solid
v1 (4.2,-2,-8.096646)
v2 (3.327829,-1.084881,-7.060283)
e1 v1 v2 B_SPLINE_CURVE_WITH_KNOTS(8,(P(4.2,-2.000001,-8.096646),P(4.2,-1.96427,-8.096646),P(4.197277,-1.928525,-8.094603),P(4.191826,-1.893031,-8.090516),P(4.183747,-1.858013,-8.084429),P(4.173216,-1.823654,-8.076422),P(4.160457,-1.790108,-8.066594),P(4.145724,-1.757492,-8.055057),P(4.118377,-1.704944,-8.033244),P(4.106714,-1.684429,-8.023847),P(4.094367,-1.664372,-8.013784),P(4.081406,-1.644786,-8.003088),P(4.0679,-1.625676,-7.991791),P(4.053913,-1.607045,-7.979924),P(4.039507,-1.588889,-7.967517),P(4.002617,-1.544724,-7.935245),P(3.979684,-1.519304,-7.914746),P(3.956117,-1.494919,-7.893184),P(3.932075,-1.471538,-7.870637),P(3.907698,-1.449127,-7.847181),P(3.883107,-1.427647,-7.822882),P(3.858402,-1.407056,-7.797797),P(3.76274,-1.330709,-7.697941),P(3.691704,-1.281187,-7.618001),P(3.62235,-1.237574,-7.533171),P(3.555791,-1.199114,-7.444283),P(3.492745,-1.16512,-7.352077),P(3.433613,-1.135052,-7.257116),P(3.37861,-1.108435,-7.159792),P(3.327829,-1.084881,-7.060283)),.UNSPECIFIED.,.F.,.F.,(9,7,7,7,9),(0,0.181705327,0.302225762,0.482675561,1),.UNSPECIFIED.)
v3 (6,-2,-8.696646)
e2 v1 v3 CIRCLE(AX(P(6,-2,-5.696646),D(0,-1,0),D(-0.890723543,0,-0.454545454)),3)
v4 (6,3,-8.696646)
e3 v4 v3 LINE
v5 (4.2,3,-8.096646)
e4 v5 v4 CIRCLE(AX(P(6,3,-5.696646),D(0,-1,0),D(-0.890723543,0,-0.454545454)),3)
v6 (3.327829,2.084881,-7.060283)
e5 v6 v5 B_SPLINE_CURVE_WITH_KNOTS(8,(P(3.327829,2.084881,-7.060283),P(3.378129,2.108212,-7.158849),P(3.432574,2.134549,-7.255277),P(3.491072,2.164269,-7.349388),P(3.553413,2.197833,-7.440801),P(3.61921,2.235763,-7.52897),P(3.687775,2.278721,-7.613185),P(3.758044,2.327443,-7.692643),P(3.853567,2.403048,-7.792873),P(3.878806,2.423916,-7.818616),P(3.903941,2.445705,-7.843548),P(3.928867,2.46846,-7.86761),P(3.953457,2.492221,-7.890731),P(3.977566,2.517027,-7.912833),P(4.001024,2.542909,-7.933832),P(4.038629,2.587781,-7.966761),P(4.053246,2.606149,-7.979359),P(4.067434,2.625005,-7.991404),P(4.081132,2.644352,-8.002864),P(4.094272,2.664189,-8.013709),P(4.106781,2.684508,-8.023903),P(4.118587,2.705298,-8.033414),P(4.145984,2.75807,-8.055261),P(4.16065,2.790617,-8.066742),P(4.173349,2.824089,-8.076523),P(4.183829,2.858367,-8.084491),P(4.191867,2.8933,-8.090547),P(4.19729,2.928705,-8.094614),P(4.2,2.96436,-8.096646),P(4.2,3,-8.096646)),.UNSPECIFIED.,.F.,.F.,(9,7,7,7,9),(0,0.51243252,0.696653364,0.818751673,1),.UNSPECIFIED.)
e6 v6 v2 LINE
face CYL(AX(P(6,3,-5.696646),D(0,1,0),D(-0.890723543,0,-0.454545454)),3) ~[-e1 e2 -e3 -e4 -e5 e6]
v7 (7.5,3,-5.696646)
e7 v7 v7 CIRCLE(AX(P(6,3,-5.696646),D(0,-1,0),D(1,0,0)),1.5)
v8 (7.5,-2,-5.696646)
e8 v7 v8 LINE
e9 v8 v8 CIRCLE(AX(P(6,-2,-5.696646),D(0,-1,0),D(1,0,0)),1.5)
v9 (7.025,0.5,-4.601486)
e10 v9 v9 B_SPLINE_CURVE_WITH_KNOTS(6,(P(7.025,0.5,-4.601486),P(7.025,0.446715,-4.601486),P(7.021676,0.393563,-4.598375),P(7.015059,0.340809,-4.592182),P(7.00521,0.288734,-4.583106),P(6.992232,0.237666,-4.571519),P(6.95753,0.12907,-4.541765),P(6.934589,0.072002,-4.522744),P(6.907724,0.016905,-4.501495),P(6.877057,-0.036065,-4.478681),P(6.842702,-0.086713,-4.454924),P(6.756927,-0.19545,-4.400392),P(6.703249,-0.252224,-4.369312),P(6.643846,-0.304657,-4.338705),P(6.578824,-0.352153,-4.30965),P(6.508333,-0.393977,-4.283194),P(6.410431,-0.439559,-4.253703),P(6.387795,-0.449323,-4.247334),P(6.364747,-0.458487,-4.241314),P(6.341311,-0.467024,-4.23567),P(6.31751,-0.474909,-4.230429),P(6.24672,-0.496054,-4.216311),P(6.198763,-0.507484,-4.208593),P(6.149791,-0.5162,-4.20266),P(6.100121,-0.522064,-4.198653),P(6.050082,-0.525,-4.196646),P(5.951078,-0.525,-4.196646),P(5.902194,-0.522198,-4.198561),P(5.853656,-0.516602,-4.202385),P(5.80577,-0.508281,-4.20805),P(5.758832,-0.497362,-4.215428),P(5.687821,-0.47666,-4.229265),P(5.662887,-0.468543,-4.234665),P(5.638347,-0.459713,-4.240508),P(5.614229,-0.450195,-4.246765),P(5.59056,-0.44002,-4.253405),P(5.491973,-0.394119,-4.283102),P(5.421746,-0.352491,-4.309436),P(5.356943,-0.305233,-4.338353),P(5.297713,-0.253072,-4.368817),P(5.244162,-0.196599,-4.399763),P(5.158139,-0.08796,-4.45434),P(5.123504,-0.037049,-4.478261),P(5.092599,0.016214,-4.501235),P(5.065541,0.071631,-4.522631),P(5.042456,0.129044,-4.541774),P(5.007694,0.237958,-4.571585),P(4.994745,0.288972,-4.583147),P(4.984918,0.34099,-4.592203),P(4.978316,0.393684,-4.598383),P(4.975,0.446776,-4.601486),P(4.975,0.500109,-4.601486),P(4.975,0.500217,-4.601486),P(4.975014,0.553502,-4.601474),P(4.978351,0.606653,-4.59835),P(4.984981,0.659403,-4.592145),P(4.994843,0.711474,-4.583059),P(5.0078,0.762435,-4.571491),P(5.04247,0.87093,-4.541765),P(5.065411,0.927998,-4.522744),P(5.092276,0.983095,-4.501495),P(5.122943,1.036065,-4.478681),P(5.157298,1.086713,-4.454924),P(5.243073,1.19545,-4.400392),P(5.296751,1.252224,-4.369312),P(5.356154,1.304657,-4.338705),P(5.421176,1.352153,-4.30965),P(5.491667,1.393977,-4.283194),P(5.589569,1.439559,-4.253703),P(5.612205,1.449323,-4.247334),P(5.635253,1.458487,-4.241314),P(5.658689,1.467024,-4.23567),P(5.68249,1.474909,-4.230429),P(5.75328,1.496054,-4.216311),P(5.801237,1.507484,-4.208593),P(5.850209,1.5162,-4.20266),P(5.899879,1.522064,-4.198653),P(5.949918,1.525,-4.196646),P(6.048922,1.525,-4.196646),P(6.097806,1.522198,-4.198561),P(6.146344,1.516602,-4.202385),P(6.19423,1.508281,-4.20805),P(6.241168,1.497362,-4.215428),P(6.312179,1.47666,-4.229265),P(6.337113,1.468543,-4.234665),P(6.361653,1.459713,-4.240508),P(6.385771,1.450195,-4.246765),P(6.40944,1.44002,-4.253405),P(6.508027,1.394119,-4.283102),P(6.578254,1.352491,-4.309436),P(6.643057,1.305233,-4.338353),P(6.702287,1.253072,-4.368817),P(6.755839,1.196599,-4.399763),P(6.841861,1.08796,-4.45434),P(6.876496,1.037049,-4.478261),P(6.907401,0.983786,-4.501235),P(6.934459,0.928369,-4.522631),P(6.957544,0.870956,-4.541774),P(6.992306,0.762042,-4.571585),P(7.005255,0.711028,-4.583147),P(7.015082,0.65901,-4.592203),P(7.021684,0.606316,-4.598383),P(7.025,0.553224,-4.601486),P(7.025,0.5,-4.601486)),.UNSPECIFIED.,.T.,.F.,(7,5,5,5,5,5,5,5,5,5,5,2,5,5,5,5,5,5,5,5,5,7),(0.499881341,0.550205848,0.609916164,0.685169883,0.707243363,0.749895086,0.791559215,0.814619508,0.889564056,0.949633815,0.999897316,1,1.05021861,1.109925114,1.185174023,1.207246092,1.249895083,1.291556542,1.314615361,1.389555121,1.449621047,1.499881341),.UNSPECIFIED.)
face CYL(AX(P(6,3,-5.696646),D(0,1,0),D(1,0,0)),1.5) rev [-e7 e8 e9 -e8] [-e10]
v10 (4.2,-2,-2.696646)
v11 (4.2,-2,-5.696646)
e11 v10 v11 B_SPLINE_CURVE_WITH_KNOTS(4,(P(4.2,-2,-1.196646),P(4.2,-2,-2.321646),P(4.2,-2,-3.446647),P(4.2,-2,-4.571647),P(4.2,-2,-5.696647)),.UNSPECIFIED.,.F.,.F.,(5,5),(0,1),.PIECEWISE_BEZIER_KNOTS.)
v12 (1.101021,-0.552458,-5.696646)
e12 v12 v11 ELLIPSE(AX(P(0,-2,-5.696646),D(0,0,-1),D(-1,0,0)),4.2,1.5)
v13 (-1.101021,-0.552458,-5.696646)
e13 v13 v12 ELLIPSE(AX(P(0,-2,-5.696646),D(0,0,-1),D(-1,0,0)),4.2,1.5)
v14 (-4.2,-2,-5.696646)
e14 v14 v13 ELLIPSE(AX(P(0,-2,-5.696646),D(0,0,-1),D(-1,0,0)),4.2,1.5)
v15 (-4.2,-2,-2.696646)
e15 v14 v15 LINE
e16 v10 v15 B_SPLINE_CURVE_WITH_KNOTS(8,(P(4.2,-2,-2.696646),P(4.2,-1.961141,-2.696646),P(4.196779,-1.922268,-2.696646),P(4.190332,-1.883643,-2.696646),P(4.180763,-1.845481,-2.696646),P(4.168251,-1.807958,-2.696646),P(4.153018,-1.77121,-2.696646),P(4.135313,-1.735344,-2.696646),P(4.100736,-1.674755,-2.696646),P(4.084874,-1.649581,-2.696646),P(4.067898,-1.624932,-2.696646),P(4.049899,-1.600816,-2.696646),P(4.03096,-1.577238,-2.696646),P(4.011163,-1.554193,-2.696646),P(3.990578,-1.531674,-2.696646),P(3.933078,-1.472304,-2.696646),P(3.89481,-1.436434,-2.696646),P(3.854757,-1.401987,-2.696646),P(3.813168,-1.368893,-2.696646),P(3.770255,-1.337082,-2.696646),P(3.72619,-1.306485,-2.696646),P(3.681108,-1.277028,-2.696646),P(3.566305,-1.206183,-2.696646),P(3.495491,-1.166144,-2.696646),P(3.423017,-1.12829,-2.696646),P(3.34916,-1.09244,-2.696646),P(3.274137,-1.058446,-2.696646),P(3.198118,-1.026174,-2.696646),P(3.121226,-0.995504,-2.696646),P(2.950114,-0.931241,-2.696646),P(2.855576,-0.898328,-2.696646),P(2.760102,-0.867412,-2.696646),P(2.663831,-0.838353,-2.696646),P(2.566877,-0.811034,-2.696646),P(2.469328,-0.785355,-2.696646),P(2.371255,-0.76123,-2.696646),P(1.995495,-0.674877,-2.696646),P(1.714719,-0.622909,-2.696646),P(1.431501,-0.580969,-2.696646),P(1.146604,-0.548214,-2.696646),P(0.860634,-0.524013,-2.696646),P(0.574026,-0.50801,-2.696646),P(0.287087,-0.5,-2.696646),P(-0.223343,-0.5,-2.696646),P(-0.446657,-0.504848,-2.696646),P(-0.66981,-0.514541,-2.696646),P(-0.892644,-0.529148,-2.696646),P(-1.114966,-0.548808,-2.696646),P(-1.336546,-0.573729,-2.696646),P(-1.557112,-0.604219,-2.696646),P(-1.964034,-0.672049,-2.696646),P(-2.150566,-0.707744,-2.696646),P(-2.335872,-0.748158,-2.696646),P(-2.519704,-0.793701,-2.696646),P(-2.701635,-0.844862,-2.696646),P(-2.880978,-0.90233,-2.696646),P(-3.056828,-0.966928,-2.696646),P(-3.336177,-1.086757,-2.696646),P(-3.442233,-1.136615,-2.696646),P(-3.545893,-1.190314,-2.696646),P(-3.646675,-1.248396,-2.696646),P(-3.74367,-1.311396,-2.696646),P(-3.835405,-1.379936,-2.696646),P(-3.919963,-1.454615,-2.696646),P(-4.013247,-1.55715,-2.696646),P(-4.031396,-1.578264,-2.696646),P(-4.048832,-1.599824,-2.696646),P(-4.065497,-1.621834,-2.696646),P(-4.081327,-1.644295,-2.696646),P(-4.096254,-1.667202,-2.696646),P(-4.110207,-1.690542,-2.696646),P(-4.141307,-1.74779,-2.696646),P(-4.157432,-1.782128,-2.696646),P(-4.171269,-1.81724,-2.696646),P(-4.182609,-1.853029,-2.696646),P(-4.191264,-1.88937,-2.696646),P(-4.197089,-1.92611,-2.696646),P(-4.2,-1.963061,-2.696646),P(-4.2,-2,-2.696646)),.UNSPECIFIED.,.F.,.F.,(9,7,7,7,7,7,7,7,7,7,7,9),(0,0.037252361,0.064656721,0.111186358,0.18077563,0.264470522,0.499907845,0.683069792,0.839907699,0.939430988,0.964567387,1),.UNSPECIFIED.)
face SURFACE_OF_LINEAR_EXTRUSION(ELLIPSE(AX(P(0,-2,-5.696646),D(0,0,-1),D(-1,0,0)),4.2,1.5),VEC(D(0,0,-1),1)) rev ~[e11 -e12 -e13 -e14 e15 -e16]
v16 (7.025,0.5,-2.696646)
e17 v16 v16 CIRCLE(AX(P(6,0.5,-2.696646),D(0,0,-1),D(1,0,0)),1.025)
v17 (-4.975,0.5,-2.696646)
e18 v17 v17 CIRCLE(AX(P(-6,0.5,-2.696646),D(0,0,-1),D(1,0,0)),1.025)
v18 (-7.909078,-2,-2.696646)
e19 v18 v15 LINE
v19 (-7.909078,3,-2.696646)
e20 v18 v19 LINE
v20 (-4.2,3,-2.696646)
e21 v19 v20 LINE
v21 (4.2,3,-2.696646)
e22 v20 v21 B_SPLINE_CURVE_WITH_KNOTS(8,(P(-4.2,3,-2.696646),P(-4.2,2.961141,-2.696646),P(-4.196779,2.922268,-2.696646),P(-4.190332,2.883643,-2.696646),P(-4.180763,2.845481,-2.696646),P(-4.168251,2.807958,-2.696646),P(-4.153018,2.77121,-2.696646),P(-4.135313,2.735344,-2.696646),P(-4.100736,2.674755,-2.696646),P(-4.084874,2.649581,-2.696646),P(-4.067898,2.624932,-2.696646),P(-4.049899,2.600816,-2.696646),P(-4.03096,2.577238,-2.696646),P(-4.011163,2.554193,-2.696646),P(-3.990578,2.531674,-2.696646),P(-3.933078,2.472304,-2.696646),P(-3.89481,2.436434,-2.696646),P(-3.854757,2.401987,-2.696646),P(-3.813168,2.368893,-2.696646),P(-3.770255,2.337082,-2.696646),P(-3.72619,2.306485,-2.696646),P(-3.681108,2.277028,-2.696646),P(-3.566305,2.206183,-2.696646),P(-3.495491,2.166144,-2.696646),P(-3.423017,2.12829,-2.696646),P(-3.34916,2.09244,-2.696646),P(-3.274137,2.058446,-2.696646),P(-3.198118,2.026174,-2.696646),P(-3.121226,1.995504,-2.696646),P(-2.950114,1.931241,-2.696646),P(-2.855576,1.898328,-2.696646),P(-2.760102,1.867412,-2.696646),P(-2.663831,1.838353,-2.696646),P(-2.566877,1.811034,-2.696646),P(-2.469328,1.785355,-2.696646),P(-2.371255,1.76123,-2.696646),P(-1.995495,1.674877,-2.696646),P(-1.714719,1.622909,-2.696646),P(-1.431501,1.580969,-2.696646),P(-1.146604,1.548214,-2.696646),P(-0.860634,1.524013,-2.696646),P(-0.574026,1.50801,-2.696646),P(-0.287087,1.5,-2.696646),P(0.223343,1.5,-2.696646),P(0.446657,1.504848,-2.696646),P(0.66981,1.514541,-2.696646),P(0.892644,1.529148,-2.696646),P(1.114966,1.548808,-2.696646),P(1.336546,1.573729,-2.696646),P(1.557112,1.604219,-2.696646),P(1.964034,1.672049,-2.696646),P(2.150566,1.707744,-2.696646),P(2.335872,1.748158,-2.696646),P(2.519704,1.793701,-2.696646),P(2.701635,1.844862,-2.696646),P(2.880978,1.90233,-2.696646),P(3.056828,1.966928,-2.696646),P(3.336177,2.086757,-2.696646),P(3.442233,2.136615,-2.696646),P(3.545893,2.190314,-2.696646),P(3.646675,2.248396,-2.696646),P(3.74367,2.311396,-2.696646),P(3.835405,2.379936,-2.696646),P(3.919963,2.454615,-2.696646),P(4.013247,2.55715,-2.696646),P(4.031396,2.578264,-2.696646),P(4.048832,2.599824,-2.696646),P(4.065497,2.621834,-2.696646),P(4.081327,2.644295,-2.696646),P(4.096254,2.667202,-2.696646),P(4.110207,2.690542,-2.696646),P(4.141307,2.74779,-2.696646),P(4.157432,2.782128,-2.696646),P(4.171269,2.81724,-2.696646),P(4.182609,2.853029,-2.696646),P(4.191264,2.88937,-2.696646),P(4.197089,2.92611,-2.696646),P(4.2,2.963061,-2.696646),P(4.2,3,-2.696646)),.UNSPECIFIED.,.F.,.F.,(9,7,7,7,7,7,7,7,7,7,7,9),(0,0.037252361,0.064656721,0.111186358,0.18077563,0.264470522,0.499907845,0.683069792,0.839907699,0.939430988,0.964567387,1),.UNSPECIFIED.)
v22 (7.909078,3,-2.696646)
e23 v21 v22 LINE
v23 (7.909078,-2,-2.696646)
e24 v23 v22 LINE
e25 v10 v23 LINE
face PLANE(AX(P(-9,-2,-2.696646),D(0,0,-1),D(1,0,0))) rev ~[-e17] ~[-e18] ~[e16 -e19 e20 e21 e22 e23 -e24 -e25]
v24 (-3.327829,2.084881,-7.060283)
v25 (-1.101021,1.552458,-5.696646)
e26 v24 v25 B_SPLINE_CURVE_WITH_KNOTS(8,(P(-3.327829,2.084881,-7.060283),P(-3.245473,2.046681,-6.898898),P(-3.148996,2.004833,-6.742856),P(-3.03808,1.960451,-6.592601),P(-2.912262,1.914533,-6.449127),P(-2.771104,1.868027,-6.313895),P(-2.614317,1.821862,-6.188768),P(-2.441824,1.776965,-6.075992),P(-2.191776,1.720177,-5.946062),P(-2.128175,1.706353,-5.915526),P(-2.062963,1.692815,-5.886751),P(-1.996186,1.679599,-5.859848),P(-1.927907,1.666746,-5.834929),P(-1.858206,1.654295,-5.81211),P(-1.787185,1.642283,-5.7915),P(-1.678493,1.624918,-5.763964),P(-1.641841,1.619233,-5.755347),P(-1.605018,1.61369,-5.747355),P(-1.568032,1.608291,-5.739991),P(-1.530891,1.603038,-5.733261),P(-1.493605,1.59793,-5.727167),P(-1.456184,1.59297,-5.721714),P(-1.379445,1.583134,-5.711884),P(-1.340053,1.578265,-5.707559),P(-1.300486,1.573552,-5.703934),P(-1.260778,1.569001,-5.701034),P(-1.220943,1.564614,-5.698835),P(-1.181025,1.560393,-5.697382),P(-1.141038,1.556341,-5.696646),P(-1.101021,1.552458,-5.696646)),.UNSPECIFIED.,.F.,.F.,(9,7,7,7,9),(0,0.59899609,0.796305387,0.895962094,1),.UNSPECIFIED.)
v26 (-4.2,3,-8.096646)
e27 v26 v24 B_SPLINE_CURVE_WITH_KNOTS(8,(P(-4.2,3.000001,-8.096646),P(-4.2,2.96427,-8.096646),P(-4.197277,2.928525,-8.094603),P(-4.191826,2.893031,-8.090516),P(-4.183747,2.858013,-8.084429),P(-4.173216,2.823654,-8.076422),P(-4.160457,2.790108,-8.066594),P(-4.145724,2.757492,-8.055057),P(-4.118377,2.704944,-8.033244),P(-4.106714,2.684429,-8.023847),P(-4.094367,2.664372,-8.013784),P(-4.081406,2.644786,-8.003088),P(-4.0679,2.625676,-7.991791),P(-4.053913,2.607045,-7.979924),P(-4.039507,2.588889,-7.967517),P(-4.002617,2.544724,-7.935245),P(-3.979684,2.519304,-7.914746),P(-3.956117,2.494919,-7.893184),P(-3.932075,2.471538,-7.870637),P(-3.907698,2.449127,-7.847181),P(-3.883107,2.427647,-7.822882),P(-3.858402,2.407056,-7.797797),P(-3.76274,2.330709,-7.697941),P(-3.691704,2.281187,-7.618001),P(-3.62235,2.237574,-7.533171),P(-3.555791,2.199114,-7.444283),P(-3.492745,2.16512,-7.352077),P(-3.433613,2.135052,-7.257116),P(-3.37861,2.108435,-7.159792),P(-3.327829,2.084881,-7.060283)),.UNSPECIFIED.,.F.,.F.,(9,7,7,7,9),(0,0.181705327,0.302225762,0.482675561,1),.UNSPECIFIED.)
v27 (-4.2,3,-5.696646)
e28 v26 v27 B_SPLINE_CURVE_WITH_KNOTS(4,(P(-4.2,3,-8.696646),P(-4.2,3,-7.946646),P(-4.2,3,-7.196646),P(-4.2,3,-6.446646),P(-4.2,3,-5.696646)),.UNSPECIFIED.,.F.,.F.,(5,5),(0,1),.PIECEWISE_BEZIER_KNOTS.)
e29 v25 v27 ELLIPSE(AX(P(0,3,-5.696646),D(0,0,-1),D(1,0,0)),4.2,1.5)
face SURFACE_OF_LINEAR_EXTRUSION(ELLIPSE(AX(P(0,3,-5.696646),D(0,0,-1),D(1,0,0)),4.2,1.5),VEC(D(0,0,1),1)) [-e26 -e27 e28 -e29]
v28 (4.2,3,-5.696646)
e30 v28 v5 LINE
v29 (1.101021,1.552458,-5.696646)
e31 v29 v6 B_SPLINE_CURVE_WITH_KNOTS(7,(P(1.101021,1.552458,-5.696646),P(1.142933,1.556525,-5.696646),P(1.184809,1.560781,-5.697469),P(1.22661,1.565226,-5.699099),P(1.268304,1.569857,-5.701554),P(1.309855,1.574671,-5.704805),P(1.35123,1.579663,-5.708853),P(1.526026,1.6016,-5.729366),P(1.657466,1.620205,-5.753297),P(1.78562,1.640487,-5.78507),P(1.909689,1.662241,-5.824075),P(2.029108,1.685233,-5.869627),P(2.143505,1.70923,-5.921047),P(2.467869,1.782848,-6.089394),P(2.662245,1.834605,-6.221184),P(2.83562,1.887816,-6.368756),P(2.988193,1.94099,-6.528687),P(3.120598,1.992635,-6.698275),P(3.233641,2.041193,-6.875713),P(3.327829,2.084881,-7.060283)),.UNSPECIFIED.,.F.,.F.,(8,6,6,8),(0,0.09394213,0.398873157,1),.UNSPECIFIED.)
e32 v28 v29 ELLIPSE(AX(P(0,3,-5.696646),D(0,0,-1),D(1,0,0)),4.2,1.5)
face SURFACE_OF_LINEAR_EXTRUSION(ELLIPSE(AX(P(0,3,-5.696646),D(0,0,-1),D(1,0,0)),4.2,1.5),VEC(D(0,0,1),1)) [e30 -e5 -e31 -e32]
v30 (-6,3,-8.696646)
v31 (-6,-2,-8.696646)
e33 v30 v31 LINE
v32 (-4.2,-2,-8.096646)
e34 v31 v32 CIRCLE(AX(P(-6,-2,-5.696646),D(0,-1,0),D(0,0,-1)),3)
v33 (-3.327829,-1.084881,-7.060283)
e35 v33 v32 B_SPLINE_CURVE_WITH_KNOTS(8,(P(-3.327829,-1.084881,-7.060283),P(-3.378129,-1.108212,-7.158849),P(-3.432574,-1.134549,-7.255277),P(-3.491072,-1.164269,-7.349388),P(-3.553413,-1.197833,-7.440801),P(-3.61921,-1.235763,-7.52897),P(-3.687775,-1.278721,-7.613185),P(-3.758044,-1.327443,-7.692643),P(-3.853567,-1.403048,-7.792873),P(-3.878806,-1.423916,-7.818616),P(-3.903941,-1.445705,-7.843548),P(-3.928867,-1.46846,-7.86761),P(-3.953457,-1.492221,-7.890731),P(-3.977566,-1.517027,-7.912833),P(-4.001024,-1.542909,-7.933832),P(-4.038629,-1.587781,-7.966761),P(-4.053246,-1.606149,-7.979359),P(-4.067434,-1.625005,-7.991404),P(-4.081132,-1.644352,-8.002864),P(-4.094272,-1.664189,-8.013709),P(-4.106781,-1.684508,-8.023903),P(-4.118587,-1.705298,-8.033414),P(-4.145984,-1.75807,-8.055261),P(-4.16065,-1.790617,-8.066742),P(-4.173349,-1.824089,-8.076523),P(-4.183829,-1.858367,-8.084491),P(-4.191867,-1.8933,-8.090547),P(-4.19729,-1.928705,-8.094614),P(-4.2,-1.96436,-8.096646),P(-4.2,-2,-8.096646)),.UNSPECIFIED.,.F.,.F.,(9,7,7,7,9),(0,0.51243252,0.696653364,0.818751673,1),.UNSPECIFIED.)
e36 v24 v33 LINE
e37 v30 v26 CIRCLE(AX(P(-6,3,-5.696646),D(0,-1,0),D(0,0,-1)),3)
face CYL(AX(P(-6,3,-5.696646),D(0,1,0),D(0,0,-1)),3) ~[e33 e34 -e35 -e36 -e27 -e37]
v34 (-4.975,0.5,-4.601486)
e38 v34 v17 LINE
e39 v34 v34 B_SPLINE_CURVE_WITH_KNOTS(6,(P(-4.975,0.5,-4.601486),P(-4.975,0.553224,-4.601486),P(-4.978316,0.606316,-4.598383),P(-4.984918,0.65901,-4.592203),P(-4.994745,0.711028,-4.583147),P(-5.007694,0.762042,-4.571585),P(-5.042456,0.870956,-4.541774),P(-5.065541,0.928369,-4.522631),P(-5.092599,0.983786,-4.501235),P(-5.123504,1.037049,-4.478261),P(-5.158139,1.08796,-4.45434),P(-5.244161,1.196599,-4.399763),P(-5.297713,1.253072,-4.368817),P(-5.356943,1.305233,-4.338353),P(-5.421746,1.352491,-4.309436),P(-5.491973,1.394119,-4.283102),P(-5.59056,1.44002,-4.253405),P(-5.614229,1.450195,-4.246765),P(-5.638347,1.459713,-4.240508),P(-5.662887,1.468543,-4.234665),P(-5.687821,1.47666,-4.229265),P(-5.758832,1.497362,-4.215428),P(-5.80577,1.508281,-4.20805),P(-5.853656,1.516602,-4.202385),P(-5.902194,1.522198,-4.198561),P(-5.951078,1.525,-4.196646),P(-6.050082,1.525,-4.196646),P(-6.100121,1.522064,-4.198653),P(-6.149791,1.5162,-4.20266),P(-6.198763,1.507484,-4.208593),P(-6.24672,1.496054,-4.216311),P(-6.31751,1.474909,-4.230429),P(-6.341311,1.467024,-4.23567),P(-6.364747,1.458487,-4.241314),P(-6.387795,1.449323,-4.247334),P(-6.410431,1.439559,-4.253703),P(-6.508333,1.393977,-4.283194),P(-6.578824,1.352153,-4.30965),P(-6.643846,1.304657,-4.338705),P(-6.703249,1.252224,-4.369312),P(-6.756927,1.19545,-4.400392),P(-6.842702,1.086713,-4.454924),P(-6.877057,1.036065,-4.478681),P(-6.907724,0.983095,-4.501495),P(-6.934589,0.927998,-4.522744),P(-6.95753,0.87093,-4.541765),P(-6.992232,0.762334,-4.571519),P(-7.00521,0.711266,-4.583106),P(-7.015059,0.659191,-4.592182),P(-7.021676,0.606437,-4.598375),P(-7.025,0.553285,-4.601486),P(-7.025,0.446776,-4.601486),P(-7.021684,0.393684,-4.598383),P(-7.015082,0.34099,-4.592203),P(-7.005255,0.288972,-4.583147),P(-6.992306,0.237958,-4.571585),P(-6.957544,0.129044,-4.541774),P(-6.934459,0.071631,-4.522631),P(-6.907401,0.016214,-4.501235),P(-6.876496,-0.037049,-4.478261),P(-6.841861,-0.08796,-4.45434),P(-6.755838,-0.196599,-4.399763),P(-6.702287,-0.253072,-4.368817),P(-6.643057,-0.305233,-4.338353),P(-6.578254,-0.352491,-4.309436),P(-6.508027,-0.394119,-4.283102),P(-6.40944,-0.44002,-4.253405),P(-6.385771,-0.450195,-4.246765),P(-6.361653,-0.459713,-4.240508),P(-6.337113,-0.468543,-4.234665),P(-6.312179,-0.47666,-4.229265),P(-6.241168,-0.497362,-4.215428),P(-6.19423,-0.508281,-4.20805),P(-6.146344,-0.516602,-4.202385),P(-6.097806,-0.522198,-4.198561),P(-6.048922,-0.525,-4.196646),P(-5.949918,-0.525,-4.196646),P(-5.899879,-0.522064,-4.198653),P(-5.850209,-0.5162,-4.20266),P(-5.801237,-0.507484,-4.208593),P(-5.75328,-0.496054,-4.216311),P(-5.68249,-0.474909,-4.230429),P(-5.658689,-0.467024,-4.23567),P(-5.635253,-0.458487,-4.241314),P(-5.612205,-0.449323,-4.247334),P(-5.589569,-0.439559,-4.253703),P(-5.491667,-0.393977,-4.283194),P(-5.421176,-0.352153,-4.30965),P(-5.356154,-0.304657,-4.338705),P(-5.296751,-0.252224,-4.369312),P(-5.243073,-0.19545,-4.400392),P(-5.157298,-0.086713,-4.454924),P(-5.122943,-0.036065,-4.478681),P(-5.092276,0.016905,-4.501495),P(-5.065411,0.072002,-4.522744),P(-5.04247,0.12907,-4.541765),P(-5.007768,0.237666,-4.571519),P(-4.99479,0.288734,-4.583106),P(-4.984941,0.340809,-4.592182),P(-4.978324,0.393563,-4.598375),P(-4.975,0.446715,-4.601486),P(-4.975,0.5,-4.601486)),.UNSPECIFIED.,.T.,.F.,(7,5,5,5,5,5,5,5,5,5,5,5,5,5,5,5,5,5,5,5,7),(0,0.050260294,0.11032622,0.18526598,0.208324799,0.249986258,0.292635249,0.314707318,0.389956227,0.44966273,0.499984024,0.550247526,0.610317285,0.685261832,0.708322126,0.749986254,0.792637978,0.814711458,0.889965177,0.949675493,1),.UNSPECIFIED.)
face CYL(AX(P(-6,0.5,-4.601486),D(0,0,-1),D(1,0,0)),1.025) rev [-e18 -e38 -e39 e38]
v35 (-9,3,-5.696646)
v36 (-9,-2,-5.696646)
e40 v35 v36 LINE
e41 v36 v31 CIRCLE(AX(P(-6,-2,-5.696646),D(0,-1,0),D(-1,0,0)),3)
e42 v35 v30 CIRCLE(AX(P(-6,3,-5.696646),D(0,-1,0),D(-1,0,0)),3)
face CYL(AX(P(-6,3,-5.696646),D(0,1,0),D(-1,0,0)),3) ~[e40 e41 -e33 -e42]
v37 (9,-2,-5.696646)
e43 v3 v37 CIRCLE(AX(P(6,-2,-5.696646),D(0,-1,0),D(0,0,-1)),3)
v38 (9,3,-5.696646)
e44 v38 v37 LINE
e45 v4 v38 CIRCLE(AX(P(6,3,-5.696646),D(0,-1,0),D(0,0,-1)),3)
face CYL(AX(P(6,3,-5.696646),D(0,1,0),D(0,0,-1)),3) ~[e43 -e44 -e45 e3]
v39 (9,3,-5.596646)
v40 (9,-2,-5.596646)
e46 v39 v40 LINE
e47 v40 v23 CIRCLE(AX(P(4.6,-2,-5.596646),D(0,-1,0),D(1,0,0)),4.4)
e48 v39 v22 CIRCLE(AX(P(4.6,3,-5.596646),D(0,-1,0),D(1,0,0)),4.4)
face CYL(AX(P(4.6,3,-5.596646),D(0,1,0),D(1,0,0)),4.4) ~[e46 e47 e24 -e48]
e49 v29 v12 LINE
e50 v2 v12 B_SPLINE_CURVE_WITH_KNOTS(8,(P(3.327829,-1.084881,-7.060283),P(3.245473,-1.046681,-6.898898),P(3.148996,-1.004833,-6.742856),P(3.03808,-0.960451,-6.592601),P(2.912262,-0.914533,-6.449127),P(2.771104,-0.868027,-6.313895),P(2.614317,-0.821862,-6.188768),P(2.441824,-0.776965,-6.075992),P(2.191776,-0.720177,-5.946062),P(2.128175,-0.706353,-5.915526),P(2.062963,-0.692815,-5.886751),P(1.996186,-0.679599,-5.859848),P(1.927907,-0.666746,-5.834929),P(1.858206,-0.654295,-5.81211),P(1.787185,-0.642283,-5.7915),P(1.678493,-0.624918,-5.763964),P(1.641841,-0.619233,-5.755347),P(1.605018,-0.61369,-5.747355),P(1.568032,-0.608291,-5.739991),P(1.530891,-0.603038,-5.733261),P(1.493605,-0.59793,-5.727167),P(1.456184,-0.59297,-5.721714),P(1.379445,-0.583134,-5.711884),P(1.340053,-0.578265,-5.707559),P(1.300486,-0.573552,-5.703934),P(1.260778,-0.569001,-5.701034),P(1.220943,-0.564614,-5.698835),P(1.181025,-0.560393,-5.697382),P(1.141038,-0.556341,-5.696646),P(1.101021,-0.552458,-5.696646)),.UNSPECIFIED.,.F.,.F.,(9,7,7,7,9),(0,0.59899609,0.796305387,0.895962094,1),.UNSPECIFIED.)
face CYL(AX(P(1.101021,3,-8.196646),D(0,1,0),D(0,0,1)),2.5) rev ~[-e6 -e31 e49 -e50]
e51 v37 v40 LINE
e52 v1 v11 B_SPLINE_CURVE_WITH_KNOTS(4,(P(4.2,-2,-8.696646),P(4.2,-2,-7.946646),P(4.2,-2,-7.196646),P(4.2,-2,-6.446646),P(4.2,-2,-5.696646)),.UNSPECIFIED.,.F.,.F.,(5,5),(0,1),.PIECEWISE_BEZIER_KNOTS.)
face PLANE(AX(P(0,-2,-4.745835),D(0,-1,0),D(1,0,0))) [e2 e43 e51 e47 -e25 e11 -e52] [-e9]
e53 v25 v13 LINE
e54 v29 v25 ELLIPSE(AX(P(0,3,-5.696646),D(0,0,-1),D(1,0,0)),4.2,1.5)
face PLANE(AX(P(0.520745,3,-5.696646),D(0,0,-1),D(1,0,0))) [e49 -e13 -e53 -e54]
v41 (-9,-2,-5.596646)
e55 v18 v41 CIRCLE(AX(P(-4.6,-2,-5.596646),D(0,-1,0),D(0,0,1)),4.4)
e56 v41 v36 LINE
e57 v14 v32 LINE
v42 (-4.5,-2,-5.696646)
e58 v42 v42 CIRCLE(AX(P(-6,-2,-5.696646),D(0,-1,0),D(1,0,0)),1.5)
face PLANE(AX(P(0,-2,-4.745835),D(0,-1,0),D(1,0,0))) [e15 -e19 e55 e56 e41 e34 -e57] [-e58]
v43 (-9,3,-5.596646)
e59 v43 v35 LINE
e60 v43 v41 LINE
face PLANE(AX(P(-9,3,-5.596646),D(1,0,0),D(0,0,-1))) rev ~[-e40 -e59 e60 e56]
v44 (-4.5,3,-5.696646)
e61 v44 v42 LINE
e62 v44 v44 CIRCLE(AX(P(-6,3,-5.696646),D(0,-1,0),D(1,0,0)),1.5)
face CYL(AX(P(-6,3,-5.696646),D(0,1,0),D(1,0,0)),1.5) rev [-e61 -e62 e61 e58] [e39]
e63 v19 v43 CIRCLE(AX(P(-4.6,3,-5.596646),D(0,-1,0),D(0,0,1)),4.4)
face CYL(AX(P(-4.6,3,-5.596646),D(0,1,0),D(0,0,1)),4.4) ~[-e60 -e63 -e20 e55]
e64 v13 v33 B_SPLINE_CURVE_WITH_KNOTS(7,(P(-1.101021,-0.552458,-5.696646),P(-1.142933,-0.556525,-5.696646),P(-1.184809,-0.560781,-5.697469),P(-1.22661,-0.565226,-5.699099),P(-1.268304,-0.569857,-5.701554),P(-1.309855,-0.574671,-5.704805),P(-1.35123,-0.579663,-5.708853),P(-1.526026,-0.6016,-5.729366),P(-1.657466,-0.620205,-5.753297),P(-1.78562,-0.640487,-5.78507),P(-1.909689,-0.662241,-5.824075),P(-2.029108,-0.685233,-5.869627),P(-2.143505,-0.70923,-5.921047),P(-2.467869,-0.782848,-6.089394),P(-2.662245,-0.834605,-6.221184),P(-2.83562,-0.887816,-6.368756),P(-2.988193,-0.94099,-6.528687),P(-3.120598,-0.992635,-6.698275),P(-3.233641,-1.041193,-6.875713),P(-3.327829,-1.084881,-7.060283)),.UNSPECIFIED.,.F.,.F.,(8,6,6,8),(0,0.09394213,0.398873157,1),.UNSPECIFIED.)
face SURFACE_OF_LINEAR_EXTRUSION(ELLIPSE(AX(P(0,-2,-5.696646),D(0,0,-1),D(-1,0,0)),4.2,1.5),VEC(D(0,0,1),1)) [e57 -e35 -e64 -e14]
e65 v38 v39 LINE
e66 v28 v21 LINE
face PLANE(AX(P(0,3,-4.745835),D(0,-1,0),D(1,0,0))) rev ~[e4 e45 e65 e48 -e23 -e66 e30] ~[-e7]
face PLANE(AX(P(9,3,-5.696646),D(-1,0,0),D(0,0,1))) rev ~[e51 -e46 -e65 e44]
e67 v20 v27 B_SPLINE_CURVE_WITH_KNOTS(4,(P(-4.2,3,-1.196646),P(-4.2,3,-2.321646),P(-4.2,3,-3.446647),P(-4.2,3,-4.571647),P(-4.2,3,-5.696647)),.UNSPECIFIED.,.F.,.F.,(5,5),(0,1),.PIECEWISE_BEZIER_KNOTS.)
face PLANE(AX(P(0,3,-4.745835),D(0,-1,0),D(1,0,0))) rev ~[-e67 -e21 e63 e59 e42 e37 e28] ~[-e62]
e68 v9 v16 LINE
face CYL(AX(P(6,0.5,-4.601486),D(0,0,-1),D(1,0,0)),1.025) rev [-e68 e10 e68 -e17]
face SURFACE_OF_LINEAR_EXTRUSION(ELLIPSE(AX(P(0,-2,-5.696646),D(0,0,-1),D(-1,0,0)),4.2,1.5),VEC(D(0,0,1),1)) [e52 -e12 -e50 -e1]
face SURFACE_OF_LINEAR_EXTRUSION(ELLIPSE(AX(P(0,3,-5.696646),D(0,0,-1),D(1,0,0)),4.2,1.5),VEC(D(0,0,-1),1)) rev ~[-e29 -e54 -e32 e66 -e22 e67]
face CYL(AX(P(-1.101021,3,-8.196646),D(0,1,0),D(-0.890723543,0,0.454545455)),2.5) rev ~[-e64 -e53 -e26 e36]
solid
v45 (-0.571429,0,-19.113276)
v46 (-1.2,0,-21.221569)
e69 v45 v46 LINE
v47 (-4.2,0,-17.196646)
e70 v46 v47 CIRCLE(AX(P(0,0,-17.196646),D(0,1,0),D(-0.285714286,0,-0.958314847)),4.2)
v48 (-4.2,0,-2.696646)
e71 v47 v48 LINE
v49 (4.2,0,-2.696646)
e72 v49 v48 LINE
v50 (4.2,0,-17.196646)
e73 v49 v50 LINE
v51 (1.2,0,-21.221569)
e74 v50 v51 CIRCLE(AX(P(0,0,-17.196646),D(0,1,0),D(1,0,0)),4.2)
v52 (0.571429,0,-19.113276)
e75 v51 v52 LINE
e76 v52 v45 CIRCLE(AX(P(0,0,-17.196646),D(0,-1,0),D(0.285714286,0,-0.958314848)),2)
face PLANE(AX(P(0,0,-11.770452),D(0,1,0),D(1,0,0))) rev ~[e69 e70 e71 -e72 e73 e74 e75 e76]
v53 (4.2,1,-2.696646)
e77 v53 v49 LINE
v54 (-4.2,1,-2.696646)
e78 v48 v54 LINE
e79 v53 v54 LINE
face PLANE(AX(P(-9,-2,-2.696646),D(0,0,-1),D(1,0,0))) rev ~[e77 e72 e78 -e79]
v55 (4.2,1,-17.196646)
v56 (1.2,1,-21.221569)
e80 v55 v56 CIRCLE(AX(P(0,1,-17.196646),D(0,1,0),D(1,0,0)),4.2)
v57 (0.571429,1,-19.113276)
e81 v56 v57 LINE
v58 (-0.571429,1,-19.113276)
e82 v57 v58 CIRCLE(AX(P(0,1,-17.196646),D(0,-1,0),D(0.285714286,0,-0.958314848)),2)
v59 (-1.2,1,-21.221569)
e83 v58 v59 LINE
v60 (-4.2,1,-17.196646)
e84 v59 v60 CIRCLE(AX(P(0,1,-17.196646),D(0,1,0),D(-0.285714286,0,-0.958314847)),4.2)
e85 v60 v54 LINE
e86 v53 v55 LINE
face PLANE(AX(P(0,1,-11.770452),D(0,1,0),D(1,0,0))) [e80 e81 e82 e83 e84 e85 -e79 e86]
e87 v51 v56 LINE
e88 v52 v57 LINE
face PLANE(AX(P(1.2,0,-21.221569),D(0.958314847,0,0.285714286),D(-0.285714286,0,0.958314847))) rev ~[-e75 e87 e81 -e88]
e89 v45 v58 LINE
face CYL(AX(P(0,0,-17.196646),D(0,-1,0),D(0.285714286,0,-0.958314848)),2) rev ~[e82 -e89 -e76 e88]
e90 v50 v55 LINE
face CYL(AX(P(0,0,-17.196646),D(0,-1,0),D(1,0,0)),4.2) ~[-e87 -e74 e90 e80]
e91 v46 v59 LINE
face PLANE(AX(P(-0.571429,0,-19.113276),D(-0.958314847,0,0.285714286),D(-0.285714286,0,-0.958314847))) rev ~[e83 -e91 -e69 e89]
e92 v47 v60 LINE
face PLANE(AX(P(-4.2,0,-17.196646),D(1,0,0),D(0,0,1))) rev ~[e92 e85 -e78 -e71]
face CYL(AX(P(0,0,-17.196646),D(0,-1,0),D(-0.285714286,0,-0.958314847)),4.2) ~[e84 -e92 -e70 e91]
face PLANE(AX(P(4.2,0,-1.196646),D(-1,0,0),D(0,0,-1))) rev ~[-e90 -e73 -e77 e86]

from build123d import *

# Parameters (mm, degrees)
BOSS_EXTRUDE1_DEPTH     = 1
BOSS_EXTRUDE2_START     = -3
SKETCH3_R               = 1.5
BOSS_EXTRUDE2_DEPTH     = 5
CUT_EXTRUDE1_START      = -3.40484
SKETCH4_R               = 1.025
CUT_EXTRUDE1_DEPTH      = 3.388831
SKETCH5_RX              = 4.2
SKETCH5_RY              = 1.5
CUT_EXTRUDE2_DEPTH      = 16.524922359
CUT_EXTRUDE2_DEPTH_BACK = 5.5000001
SKETCH6_W               = 18
SKETCH6_H               = 1.5
CUT_EXTRUDE3_DEPTH      = 5


with BuildPart() as part:
    # Sketch2 → Boss-Extrude1 (new body)
    with BuildSketch(Plane(origin=(0, 0, 0), x_dir=(1, 0, 0), z_dir=(0, 1, 0))):
        with BuildLine():
            Line((-0.571428571, 19.113275972), (-1.2, 21.221568636))
            ThreePointArc((-1.2, 21.221568636), (-3.367491648, 19.706626356), (-4.2, 17.196646277))
            Line((-4.2, 17.196646277), (-4.2, 1.196646277))
            Line((-4.2, 1.196646277), (4.2, 1.196646277))
            Line((4.2, 1.196646277), (4.2, 17.196646277))
            ThreePointArc((4.2, 17.196646277), (3.367491648, 19.706626356), (1.2, 21.221568636))
            Line((1.2, 21.221568636), (0.571428571, 19.113275972))
            ThreePointArc((0.571428571, 19.113275972), (0, 15.196646277), (-0.571428571, 19.113275972))
        make_face()
    extrude(amount=BOSS_EXTRUDE1_DEPTH)


with BuildPart() as body_2:
    # Sketch3 → Boss-Extrude2 (new body)
    with BuildSketch(Plane.XZ.offset(BOSS_EXTRUDE2_START)):
        with BuildLine():
            ThreePointArc((9, -5.596646277), (7.711269837, -2.485376439), (4.6, -1.196646277))
            Line((4.6, -1.196646277), (-4.6, -1.196646277))
            ThreePointArc((-4.6, -1.196646277), (-7.711269837, -2.485376439), (-9, -5.596646277))
            Line((-9, -5.596646277), (-9, -5.696646277))
            ThreePointArc((-9, -5.696646277), (-8.121320344, -7.81796662), (-6, -8.696646277))
            ThreePointArc((-6, -8.696646277), (-4.433301096, -8.255054873), (-3.327829372, -7.06028264))
            ThreePointArc((-3.327829372, -7.06028264), (-2.406602934, -6.064639113), (-1.101020514, -5.696646277))
            Line((-1.101020514, -5.696646277), (1.101020514, -5.696646277))
            ThreePointArc((1.101020514, -5.696646277), (2.406602934, -6.064639113), (3.327829372, -7.06028264))
            ThreePointArc((3.327829372, -7.06028264), (4.433301096, -8.255054873), (6, -8.696646277))
            ThreePointArc((6, -8.696646277), (8.121320344, -7.81796662), (9, -5.696646277))
            Line((9, -5.696646277), (9, -5.596646277))
        make_face()
        with Locations((-6, -5.696646277)):
            Circle(SKETCH3_R, mode=Mode.SUBTRACT)
        with Locations((6, -5.696646277)):
            Circle(SKETCH3_R, mode=Mode.SUBTRACT)
    extrude(amount=BOSS_EXTRUDE2_DEPTH)

    # Sketch4 → Cut-Extrude1 (cut)
    with BuildSketch(Plane.XY.offset(-1.196646277).offset(CUT_EXTRUDE1_START)):
        with Locations((-6, 0.5)):
            Circle(SKETCH4_R)
        with Locations((6, 0.5)):
            Circle(SKETCH4_R)
    extrude(amount=CUT_EXTRUDE1_DEPTH, mode=Mode.SUBTRACT)

    # Sketch5 → Cut-Extrude2 (cut, two sides)
    with BuildSketch(Plane(origin=(0, 0, -5.696646277), x_dir=(-1, 0, 0), z_dir=(0, 0, -1))) as cut_extrude2_sk:
        with Locations(Location((0, 3), (0, 0, 180))):
            Ellipse(SKETCH5_RX, SKETCH5_RY)
        with Locations((0, -2)):
            Ellipse(SKETCH5_RX, SKETCH5_RY)
    extrude(amount=CUT_EXTRUDE2_DEPTH, mode=Mode.SUBTRACT)
    extrude(cut_extrude2_sk.sketch, amount=-CUT_EXTRUDE2_DEPTH_BACK, mode=Mode.SUBTRACT)


with BuildPart() as cut_extrude3_tool:
    # Sketch6 → Cut-Extrude3 (new body)
    with BuildSketch(Plane.XZ.offset(2)):
        with Locations((0, -1.946646277)):
            Rectangle(SKETCH6_W, SKETCH6_H)
    extrude(amount=-CUT_EXTRUDE3_DEPTH)


with BuildPart() as part_1:
    add(part.part)

    # Cut-Extrude3: cut by cut_extrude3_tool
    add(cut_extrude3_tool.part, mode=Mode.SUBTRACT)


with BuildPart() as body_2_1:
    add(body_2.part)

    # Cut-Extrude3: cut by cut_extrude3_tool
    add(cut_extrude3_tool.part, mode=Mode.SUBTRACT)


solid = Compound([part_1.part, body_2_1.part])
